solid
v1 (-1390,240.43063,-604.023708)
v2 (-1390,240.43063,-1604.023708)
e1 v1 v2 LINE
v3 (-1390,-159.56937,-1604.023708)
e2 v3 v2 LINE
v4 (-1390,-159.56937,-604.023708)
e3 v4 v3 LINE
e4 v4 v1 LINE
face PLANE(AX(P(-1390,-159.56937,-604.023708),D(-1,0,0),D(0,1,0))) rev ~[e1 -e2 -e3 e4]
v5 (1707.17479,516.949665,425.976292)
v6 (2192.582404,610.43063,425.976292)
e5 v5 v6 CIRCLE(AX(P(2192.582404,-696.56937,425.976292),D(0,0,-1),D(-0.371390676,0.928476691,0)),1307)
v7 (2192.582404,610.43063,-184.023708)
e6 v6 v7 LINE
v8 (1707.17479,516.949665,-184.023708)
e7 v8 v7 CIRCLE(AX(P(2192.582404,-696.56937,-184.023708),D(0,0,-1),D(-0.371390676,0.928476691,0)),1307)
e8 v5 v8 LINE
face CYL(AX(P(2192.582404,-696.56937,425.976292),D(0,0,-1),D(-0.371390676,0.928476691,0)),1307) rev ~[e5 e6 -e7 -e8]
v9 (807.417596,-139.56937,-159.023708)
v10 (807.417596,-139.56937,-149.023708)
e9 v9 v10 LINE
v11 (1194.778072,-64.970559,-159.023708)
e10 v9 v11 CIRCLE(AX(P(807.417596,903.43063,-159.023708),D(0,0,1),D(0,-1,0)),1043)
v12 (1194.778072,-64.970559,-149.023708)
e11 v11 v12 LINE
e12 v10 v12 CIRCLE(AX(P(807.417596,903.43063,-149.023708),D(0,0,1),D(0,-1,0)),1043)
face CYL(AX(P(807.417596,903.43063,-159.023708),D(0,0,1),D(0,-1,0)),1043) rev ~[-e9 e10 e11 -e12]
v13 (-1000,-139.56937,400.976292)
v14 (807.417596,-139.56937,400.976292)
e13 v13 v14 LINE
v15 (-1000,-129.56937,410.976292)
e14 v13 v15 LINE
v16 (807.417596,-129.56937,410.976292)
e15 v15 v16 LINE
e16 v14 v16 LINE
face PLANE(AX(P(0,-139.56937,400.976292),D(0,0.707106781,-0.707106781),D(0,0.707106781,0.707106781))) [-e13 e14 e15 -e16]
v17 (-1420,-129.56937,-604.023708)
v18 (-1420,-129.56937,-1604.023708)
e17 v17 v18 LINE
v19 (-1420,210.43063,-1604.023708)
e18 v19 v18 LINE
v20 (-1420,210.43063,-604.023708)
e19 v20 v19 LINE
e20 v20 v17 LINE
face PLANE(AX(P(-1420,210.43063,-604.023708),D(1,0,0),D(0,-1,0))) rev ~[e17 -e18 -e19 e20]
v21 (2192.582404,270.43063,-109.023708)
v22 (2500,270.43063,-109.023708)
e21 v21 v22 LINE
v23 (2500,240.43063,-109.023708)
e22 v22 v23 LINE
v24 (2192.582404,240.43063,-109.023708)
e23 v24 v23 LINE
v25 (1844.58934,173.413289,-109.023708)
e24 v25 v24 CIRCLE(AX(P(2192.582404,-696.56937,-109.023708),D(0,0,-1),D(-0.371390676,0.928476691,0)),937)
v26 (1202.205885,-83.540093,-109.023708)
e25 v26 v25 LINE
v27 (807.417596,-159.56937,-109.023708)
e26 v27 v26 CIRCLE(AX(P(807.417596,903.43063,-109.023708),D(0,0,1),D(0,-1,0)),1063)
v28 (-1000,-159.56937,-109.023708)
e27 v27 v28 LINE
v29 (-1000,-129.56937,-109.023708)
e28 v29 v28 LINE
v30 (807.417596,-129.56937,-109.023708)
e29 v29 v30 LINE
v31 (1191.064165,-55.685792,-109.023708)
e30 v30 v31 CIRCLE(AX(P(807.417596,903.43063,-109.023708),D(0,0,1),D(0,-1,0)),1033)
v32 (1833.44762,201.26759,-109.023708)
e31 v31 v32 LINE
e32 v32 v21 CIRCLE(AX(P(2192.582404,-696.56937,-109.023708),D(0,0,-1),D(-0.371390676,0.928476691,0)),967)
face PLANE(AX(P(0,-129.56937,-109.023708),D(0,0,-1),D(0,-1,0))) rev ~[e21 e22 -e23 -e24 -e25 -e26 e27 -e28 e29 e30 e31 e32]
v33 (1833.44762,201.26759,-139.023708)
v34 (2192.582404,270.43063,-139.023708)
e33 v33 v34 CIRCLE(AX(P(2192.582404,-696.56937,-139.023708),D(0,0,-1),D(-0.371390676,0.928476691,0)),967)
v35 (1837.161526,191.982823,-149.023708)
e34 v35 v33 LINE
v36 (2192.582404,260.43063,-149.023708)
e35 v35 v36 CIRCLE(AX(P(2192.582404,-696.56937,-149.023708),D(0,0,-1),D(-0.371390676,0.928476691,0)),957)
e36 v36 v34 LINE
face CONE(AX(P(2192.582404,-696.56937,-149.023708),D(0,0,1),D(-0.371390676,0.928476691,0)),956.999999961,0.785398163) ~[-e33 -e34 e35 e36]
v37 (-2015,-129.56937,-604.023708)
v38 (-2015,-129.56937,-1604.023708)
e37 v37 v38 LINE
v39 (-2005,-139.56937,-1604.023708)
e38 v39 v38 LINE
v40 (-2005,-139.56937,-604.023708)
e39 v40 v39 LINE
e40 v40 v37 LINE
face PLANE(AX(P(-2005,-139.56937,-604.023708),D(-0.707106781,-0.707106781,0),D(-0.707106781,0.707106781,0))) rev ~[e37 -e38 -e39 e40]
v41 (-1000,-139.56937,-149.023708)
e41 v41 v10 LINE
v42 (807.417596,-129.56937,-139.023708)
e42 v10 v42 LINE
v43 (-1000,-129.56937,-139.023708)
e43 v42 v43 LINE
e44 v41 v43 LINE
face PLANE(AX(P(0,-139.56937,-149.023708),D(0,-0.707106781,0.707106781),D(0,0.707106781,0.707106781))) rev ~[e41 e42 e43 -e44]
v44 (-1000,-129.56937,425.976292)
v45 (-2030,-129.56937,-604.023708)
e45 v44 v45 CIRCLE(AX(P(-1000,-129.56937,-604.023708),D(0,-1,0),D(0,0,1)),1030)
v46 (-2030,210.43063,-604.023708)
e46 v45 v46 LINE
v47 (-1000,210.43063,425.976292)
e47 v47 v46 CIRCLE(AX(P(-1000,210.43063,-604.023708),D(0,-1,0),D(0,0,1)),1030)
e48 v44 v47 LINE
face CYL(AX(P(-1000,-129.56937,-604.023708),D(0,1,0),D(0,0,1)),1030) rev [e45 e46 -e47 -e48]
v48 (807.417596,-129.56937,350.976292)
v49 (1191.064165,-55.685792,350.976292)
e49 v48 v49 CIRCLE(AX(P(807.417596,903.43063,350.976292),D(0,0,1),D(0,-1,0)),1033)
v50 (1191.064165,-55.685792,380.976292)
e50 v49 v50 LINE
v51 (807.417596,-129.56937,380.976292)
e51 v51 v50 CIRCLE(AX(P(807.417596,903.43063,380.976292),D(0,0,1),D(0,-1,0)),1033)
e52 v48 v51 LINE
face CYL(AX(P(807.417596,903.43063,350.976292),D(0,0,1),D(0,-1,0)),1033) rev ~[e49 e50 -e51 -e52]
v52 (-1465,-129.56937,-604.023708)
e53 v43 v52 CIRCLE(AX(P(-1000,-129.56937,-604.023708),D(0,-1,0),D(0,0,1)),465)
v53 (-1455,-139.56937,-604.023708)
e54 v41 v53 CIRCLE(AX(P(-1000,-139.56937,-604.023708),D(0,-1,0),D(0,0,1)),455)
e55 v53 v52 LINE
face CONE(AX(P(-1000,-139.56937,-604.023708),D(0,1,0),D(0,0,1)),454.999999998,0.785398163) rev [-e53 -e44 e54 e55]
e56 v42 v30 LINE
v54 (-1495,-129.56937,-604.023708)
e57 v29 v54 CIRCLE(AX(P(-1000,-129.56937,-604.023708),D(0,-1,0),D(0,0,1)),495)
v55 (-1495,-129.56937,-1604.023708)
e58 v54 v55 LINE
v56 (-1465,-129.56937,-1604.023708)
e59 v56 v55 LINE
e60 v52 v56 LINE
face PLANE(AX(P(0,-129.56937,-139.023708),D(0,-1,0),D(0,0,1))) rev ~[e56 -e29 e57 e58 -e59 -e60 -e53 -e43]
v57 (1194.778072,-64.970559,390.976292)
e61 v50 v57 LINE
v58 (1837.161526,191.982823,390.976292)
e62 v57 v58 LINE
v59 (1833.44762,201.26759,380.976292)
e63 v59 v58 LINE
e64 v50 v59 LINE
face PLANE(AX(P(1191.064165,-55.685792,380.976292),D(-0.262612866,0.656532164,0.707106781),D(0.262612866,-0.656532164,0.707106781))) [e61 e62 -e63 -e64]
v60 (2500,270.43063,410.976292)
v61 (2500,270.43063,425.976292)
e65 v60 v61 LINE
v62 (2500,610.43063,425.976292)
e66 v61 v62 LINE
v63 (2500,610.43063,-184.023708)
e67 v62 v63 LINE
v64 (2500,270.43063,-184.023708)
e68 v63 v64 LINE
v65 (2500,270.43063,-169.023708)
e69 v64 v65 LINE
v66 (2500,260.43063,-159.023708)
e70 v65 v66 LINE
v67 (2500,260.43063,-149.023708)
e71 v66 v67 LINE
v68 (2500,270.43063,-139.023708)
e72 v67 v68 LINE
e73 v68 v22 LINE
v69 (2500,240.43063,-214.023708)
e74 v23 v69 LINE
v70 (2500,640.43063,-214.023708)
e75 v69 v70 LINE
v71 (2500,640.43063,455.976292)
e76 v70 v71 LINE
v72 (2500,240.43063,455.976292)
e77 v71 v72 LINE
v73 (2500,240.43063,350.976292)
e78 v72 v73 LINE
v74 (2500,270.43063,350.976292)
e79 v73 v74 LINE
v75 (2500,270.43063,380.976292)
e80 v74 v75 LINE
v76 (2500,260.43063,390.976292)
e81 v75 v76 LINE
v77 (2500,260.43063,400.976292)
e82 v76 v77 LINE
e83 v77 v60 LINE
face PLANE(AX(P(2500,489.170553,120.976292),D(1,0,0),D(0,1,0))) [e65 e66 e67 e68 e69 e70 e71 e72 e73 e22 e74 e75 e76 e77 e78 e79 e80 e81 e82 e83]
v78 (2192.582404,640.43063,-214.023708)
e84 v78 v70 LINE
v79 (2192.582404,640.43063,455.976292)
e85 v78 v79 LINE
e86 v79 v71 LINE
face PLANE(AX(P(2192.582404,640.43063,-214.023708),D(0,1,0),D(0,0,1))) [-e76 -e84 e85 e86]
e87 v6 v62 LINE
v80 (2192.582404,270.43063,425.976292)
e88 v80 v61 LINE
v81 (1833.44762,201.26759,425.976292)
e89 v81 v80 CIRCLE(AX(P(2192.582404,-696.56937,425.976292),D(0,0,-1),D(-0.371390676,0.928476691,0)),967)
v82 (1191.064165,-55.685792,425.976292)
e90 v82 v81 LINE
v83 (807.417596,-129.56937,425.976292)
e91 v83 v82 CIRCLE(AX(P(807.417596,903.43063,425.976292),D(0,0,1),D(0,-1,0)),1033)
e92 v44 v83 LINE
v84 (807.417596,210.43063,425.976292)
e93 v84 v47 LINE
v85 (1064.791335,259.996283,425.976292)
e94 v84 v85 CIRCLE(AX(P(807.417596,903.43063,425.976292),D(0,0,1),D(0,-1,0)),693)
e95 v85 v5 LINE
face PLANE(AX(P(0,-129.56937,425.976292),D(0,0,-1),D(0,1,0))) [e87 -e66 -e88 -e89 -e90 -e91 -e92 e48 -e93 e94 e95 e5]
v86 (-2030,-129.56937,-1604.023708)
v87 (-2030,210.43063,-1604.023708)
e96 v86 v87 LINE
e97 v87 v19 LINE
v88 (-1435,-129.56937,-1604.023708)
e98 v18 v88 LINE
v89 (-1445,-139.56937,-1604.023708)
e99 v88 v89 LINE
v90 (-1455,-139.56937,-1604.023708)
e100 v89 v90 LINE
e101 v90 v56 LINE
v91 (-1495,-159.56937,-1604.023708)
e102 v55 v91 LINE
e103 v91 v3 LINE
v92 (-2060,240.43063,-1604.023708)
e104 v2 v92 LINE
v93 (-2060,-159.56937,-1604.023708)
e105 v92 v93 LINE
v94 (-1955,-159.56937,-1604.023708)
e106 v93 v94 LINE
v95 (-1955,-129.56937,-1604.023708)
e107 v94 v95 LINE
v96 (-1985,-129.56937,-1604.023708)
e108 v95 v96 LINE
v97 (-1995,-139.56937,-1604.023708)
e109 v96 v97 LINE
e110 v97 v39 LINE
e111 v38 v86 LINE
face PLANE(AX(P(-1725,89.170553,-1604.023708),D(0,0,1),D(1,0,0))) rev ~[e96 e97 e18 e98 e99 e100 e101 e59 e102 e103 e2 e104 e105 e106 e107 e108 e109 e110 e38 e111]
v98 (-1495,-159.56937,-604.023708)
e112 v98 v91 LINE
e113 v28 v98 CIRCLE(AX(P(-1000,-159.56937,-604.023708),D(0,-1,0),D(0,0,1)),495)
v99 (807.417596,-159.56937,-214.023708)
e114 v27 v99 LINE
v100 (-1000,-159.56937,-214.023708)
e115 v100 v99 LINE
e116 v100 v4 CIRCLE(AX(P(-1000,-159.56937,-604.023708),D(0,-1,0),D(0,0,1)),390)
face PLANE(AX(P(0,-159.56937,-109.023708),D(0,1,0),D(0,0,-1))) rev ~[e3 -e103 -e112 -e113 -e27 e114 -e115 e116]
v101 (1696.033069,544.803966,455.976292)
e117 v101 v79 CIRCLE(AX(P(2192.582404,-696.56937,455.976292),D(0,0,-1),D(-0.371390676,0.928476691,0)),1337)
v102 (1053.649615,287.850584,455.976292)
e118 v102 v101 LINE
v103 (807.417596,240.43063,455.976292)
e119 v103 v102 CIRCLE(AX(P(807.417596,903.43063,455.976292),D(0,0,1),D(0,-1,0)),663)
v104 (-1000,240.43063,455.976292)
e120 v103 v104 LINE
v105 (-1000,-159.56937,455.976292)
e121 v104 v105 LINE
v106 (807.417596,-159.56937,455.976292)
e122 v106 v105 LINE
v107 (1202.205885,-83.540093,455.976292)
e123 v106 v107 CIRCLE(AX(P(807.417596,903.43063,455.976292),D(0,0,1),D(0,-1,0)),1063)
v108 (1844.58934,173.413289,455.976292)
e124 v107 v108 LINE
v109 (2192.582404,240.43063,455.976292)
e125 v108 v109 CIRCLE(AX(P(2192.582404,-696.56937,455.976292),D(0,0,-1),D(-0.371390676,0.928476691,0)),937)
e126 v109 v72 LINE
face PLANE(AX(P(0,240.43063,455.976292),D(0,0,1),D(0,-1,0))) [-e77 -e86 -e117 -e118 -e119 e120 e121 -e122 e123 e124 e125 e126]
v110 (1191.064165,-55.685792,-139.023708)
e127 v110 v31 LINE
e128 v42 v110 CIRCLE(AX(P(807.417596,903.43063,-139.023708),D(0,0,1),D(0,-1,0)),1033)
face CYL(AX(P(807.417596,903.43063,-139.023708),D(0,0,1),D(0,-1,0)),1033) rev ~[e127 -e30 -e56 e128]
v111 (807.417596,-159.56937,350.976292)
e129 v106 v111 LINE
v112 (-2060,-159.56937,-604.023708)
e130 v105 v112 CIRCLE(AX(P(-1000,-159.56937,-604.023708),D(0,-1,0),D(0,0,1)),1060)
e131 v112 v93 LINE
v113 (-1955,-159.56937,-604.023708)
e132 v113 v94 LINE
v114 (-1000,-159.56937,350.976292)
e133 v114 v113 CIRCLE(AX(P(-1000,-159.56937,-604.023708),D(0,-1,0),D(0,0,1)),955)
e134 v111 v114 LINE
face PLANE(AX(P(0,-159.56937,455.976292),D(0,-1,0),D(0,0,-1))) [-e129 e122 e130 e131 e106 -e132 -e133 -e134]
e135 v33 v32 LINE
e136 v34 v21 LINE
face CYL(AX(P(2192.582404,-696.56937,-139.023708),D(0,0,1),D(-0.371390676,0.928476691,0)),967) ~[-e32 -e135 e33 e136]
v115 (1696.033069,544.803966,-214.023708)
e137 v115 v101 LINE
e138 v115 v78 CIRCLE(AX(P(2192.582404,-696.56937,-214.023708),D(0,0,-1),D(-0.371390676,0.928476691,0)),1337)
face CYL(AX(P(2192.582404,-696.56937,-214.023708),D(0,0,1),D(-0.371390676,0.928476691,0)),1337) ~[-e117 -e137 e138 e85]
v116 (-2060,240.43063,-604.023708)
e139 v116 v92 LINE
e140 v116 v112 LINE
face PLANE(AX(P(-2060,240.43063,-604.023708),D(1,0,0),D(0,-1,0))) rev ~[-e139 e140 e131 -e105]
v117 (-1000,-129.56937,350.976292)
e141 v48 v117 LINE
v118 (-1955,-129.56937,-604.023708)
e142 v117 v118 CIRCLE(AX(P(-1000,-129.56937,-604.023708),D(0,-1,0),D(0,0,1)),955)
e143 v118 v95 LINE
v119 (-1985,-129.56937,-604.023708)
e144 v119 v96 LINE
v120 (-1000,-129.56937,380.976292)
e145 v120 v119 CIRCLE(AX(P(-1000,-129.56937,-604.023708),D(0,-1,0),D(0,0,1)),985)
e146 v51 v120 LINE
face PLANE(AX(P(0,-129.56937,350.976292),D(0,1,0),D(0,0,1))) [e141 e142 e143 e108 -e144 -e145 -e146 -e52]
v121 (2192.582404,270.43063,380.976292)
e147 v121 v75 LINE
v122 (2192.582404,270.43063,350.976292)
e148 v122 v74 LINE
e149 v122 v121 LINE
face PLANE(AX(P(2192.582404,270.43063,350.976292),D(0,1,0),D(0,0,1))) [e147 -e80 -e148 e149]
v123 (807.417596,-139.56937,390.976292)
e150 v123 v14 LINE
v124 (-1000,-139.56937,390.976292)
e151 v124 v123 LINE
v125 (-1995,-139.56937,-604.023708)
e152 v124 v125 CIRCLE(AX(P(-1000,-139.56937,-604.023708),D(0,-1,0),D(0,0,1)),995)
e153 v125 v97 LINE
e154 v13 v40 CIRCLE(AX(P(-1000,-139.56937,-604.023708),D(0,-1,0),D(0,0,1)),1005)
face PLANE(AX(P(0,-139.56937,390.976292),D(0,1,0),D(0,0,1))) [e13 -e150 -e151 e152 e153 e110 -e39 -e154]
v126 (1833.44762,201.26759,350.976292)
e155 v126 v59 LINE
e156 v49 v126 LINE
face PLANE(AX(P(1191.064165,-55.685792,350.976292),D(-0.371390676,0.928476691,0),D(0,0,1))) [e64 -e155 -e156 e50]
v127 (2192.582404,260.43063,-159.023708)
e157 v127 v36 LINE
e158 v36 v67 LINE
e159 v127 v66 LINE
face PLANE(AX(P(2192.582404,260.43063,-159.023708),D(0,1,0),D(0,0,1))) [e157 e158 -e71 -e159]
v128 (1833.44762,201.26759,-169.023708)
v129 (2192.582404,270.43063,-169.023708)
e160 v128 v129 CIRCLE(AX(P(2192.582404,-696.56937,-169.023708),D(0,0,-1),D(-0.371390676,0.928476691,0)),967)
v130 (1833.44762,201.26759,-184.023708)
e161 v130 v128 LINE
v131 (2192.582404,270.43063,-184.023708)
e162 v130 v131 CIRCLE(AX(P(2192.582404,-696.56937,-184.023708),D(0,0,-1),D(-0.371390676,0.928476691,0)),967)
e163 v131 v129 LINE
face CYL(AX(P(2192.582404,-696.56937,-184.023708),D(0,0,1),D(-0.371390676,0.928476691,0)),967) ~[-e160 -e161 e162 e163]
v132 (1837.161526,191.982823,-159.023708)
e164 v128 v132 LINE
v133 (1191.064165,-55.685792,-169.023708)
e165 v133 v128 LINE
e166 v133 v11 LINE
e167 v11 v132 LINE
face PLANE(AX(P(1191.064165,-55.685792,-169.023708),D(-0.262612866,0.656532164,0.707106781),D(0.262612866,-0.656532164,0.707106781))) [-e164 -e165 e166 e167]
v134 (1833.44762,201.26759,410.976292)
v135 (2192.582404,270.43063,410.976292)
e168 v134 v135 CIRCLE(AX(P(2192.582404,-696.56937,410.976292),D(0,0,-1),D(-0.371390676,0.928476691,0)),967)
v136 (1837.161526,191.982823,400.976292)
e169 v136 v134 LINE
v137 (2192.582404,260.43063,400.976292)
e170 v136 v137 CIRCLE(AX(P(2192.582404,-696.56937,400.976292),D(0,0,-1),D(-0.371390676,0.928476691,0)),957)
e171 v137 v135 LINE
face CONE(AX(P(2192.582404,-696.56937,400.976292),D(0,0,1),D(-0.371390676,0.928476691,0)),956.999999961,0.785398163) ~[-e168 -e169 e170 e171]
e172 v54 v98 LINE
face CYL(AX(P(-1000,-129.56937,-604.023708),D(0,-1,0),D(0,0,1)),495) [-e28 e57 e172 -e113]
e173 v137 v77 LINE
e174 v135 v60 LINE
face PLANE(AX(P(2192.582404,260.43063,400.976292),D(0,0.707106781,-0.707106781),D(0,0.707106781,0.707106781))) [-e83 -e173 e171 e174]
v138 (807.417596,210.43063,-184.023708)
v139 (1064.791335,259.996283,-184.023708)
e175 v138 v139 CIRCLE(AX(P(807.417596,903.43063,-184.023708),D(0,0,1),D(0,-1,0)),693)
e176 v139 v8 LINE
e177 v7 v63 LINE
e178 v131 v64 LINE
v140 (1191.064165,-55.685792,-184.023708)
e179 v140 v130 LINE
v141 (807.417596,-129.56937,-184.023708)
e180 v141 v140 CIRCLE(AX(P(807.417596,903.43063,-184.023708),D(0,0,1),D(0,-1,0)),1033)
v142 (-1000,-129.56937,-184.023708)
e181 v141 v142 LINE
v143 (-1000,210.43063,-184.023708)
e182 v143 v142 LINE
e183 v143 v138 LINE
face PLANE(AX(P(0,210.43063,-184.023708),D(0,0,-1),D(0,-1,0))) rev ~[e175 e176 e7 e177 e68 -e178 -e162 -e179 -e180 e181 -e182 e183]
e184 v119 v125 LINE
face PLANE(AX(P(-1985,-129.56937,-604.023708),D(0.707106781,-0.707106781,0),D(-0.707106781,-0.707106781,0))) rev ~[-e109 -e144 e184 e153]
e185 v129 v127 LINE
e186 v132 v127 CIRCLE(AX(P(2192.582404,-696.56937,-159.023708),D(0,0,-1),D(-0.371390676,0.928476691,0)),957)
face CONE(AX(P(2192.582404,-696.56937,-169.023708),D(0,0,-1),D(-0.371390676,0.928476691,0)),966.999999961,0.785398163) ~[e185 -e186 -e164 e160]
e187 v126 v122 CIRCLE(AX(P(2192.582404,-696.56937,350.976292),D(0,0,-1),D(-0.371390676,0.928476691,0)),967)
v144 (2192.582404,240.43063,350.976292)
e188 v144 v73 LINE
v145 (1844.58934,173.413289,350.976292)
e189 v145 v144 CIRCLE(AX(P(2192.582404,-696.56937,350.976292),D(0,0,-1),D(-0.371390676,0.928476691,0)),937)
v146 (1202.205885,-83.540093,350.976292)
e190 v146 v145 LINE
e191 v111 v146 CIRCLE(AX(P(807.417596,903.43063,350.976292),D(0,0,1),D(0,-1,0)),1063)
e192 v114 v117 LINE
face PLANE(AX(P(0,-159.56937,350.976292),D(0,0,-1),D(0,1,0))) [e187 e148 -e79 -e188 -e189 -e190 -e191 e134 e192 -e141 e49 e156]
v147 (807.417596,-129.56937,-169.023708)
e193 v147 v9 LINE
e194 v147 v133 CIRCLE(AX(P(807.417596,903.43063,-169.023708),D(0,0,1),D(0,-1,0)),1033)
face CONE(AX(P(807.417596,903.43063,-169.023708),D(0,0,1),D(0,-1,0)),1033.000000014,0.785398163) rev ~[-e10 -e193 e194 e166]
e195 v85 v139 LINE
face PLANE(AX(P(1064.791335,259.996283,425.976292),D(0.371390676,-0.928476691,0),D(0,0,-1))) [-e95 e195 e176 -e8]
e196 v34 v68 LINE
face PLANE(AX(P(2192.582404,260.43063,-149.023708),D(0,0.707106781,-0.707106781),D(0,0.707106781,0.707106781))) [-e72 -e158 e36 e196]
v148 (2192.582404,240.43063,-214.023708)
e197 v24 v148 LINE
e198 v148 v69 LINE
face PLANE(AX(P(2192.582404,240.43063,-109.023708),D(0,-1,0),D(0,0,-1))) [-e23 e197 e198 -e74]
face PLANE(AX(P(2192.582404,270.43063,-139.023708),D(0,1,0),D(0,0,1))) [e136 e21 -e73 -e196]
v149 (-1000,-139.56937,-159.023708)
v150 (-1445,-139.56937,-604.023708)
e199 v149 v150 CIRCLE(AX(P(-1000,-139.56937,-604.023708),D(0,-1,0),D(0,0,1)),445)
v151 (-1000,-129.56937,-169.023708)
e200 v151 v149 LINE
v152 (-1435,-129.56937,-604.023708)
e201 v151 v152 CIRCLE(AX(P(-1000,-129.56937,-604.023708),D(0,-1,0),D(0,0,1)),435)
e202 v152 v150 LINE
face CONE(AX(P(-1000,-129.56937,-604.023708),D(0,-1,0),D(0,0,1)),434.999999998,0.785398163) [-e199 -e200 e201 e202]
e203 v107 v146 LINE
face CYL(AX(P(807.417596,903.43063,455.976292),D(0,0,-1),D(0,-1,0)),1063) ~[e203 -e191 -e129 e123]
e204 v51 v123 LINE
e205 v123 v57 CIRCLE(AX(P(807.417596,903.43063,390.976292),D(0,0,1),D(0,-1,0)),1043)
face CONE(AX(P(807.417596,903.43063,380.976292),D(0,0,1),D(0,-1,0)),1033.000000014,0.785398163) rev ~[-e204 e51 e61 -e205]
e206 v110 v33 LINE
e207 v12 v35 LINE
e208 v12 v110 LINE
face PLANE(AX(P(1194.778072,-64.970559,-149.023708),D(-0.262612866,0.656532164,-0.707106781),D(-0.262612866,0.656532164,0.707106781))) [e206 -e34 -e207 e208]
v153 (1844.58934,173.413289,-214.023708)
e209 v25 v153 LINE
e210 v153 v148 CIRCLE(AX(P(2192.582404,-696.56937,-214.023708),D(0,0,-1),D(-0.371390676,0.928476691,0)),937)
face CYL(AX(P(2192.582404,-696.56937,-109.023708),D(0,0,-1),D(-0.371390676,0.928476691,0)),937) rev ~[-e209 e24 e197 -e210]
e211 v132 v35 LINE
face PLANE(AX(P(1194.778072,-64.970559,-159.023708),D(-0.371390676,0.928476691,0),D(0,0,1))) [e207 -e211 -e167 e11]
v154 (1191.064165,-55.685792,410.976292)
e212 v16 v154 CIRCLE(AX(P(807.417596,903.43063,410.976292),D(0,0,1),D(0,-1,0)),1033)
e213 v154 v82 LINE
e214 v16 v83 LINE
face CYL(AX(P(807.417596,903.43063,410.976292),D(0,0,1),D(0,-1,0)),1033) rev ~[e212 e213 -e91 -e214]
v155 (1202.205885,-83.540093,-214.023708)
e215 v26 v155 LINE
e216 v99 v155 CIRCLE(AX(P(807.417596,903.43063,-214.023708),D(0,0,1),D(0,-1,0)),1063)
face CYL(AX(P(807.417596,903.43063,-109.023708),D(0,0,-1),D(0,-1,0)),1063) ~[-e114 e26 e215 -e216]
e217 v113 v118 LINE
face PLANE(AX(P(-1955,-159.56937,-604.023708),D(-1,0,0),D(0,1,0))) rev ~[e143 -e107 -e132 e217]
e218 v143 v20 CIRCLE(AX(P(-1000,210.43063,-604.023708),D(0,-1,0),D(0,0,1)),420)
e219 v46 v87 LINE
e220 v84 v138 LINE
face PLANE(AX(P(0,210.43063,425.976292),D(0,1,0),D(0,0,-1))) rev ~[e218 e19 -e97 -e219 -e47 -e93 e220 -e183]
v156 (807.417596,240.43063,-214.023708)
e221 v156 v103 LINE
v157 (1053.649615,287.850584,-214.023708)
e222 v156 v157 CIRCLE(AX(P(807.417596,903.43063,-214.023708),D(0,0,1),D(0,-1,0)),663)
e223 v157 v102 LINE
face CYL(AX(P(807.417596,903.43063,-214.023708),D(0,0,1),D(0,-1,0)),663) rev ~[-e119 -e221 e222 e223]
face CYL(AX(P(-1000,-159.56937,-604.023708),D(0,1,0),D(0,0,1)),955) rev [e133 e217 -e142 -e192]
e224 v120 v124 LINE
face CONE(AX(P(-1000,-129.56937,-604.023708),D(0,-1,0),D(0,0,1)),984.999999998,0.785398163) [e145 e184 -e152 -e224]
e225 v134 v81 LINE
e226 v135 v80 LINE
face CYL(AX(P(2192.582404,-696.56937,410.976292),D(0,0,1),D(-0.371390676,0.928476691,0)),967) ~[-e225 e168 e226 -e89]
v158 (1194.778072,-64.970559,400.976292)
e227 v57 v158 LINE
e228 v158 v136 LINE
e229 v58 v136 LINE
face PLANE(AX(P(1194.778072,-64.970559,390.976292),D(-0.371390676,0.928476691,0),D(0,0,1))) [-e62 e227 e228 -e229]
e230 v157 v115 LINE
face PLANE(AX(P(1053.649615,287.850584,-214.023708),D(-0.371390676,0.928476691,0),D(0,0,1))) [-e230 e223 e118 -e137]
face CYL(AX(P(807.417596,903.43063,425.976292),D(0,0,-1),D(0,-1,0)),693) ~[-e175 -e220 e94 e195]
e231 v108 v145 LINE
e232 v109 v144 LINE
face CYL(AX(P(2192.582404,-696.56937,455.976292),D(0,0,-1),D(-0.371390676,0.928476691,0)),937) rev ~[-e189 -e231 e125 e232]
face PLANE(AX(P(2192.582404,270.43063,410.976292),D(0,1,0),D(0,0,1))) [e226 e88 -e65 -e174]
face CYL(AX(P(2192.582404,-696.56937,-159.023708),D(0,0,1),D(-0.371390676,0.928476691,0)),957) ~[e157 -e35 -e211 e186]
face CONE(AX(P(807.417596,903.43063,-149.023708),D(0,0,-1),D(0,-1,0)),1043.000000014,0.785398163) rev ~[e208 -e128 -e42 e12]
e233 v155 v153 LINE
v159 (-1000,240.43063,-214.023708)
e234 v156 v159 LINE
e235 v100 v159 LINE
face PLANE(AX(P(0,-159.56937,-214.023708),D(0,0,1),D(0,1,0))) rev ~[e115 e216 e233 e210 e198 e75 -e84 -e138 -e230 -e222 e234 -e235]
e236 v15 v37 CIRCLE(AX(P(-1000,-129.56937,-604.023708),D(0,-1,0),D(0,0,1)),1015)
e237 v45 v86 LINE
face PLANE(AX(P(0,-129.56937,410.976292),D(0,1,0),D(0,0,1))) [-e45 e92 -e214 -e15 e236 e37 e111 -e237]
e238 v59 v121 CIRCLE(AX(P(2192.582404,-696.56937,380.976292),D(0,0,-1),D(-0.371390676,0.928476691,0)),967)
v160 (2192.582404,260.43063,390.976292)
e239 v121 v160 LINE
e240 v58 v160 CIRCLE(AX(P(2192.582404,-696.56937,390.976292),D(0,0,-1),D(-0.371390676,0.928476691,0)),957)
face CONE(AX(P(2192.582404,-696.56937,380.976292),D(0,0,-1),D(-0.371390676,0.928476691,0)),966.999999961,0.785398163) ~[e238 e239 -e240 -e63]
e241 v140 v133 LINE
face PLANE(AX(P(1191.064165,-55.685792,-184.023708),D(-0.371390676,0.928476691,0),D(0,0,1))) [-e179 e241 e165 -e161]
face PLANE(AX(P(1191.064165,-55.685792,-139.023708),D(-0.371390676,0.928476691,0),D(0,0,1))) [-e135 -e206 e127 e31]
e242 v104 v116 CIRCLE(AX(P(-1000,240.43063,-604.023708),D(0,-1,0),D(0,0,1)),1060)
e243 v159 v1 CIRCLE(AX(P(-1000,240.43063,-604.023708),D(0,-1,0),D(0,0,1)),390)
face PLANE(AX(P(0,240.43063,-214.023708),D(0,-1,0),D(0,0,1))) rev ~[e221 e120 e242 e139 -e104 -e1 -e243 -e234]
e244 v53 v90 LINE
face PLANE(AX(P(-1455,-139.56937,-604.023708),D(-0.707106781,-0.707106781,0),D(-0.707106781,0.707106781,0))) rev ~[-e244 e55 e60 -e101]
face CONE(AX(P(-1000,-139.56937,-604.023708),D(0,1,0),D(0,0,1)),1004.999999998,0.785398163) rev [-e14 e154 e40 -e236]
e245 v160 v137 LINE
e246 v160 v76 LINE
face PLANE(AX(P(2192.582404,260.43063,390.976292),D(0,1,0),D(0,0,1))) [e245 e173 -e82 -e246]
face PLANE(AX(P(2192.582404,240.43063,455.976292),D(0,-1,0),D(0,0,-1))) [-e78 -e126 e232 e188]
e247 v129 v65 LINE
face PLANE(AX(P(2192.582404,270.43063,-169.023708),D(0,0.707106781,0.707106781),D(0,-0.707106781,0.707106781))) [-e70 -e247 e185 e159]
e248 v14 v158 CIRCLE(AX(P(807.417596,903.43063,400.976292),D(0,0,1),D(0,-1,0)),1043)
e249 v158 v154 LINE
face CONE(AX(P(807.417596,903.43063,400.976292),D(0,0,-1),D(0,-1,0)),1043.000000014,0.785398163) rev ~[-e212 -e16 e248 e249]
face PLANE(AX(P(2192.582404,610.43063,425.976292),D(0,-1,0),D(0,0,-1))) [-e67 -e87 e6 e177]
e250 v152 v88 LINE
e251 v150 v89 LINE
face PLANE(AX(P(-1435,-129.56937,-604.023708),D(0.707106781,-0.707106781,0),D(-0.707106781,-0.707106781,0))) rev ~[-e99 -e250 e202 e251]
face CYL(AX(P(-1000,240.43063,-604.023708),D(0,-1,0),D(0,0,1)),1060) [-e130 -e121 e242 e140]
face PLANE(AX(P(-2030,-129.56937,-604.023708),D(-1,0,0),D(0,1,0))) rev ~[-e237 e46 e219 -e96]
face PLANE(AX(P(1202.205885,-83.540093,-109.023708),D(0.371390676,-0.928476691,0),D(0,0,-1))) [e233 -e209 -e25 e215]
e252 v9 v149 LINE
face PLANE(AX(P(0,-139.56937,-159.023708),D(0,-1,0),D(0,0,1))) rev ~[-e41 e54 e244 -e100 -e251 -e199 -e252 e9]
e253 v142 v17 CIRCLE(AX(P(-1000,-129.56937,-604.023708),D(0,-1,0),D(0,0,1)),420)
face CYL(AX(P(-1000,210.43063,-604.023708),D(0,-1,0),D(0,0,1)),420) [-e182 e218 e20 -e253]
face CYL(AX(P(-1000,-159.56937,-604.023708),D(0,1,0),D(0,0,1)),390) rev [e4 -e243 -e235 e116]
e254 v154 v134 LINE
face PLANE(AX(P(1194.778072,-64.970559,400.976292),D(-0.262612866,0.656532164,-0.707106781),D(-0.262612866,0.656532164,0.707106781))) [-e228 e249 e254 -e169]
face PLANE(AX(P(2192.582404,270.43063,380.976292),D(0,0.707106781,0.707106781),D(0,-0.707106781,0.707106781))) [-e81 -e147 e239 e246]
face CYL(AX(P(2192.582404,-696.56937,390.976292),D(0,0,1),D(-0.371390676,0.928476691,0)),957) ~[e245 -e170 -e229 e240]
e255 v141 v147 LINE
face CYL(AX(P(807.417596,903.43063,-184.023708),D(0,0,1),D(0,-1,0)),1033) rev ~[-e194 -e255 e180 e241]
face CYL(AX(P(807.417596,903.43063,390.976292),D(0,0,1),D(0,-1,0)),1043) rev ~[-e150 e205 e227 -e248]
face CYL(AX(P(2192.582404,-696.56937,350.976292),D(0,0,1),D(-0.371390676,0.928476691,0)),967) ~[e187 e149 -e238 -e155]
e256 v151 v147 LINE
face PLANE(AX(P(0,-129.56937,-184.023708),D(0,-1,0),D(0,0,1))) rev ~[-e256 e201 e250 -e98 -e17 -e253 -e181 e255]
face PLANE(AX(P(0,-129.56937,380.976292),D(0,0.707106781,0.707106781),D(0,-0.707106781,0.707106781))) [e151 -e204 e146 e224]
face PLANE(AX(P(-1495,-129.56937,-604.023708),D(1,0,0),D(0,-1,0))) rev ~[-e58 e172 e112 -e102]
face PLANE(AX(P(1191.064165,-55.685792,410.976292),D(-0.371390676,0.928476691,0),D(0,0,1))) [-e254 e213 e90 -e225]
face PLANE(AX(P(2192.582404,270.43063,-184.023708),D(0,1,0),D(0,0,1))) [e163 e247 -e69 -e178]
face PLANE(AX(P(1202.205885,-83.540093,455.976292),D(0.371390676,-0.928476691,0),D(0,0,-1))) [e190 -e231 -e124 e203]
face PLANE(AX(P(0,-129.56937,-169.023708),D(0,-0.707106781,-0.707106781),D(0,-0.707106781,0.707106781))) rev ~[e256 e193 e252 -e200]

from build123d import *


with BuildPart() as part:
    # Sweep15: sweep along a path in Sketch4
    with BuildLine(Plane(origin=(0, -96.56937012, 0), x_dir=(1, 0, 0), z_dir=(0, 1, 0))) as sweep15_path:
        Line((0, -395.976291919), (-1000, -395.976291919))
        ThreePointArc((-1000, -395.976291919), (-1707.106781187, -103.083073106), (-2000, 604.023708081))
        Line((-2000, 604.023708081), (-2000, 1604.023708081))
    # Sketch3 → Sweep15 (sweep)
    with BuildSketch(Plane(origin=(0, 0, 0), x_dir=(0, 0, -1), z_dir=(1, 0, 0))):
        Polygon((-380.976291919, -129.569370117), (-390.976291919, -139.569370117), (-400.976291919, -139.569370117), (-410.976291919, -129.569370117), (-425.976291919, -129.569370117), (-425.976291919, 210.430629883), (184.023708081, 210.430629883), (184.023708081, -129.569370117), (169.023708081, -129.569370117), (159.023708081, -139.569370117), (149.023708081, -139.569370117), (139.023708081, -129.569370117), (109.023708081, -129.569370117), (109.023708081, -159.569370117), (214.023708081, -159.569370117), (214.023708081, 240.430629883), (-455.976291919, 240.430629883), (-455.976291919, -159.569370117), (-350.976291919, -159.569370117), (-350.976291919, -129.569370117), align=None)
    sweep(path=sweep15_path.line)

    # Sweep18: sweep along a path in Sketch20
    with BuildLine(Plane(origin=(0, 0, 395.976291919), x_dir=(-1, 0, 0), z_dir=(0, 0, -1))) as sweep18_path:
        Line((0, -96.569370117), (-807.417596433, -96.569370117))
        ThreePointArc((-807.417596433, -96.569370117), (-996.525117588, -78.525756848), (-1178.808272787, -25.046061002))
        Line((-1178.808272787, -25.046061002), (-1821.191727213, 231.907320768))
        ThreePointArc((-1821.191727213, 231.907320768), (-2003.474882412, 285.387016615), (-2192.582403567, 303.430629883))
        Line((-2192.582403567, 303.430629883), (-2500, 303.430629883))
    # Sketch3<10> → Sweep18 (sweep)
    with BuildSketch(Plane(origin=(0, 0, 0), x_dir=(0, 0, -1), z_dir=(1, 0, 0))):
        Polygon((-380.976291919, -129.569370117), (-390.976291919, -139.569370117), (-400.976291919, -139.569370117), (-410.976291919, -129.569370117), (-425.976291919, -129.569370117), (-425.976291919, 210.430629883), (184.023708081, 210.430629883), (184.023708081, -129.569370117), (169.023708081, -129.569370117), (159.023708081, -139.569370117), (149.023708081, -139.569370117), (139.023708081, -129.569370117), (109.023708081, -129.569370117), (109.023708081, -159.569370117), (214.023708081, -159.569370117), (214.023708081, 240.430629883), (-455.976291919, 240.430629883), (-455.976291919, -159.569370117), (-350.976291919, -159.569370117), (-350.976291919, -129.569370117), align=None)
    sweep(path=sweep18_path.line)


solid = part.part
